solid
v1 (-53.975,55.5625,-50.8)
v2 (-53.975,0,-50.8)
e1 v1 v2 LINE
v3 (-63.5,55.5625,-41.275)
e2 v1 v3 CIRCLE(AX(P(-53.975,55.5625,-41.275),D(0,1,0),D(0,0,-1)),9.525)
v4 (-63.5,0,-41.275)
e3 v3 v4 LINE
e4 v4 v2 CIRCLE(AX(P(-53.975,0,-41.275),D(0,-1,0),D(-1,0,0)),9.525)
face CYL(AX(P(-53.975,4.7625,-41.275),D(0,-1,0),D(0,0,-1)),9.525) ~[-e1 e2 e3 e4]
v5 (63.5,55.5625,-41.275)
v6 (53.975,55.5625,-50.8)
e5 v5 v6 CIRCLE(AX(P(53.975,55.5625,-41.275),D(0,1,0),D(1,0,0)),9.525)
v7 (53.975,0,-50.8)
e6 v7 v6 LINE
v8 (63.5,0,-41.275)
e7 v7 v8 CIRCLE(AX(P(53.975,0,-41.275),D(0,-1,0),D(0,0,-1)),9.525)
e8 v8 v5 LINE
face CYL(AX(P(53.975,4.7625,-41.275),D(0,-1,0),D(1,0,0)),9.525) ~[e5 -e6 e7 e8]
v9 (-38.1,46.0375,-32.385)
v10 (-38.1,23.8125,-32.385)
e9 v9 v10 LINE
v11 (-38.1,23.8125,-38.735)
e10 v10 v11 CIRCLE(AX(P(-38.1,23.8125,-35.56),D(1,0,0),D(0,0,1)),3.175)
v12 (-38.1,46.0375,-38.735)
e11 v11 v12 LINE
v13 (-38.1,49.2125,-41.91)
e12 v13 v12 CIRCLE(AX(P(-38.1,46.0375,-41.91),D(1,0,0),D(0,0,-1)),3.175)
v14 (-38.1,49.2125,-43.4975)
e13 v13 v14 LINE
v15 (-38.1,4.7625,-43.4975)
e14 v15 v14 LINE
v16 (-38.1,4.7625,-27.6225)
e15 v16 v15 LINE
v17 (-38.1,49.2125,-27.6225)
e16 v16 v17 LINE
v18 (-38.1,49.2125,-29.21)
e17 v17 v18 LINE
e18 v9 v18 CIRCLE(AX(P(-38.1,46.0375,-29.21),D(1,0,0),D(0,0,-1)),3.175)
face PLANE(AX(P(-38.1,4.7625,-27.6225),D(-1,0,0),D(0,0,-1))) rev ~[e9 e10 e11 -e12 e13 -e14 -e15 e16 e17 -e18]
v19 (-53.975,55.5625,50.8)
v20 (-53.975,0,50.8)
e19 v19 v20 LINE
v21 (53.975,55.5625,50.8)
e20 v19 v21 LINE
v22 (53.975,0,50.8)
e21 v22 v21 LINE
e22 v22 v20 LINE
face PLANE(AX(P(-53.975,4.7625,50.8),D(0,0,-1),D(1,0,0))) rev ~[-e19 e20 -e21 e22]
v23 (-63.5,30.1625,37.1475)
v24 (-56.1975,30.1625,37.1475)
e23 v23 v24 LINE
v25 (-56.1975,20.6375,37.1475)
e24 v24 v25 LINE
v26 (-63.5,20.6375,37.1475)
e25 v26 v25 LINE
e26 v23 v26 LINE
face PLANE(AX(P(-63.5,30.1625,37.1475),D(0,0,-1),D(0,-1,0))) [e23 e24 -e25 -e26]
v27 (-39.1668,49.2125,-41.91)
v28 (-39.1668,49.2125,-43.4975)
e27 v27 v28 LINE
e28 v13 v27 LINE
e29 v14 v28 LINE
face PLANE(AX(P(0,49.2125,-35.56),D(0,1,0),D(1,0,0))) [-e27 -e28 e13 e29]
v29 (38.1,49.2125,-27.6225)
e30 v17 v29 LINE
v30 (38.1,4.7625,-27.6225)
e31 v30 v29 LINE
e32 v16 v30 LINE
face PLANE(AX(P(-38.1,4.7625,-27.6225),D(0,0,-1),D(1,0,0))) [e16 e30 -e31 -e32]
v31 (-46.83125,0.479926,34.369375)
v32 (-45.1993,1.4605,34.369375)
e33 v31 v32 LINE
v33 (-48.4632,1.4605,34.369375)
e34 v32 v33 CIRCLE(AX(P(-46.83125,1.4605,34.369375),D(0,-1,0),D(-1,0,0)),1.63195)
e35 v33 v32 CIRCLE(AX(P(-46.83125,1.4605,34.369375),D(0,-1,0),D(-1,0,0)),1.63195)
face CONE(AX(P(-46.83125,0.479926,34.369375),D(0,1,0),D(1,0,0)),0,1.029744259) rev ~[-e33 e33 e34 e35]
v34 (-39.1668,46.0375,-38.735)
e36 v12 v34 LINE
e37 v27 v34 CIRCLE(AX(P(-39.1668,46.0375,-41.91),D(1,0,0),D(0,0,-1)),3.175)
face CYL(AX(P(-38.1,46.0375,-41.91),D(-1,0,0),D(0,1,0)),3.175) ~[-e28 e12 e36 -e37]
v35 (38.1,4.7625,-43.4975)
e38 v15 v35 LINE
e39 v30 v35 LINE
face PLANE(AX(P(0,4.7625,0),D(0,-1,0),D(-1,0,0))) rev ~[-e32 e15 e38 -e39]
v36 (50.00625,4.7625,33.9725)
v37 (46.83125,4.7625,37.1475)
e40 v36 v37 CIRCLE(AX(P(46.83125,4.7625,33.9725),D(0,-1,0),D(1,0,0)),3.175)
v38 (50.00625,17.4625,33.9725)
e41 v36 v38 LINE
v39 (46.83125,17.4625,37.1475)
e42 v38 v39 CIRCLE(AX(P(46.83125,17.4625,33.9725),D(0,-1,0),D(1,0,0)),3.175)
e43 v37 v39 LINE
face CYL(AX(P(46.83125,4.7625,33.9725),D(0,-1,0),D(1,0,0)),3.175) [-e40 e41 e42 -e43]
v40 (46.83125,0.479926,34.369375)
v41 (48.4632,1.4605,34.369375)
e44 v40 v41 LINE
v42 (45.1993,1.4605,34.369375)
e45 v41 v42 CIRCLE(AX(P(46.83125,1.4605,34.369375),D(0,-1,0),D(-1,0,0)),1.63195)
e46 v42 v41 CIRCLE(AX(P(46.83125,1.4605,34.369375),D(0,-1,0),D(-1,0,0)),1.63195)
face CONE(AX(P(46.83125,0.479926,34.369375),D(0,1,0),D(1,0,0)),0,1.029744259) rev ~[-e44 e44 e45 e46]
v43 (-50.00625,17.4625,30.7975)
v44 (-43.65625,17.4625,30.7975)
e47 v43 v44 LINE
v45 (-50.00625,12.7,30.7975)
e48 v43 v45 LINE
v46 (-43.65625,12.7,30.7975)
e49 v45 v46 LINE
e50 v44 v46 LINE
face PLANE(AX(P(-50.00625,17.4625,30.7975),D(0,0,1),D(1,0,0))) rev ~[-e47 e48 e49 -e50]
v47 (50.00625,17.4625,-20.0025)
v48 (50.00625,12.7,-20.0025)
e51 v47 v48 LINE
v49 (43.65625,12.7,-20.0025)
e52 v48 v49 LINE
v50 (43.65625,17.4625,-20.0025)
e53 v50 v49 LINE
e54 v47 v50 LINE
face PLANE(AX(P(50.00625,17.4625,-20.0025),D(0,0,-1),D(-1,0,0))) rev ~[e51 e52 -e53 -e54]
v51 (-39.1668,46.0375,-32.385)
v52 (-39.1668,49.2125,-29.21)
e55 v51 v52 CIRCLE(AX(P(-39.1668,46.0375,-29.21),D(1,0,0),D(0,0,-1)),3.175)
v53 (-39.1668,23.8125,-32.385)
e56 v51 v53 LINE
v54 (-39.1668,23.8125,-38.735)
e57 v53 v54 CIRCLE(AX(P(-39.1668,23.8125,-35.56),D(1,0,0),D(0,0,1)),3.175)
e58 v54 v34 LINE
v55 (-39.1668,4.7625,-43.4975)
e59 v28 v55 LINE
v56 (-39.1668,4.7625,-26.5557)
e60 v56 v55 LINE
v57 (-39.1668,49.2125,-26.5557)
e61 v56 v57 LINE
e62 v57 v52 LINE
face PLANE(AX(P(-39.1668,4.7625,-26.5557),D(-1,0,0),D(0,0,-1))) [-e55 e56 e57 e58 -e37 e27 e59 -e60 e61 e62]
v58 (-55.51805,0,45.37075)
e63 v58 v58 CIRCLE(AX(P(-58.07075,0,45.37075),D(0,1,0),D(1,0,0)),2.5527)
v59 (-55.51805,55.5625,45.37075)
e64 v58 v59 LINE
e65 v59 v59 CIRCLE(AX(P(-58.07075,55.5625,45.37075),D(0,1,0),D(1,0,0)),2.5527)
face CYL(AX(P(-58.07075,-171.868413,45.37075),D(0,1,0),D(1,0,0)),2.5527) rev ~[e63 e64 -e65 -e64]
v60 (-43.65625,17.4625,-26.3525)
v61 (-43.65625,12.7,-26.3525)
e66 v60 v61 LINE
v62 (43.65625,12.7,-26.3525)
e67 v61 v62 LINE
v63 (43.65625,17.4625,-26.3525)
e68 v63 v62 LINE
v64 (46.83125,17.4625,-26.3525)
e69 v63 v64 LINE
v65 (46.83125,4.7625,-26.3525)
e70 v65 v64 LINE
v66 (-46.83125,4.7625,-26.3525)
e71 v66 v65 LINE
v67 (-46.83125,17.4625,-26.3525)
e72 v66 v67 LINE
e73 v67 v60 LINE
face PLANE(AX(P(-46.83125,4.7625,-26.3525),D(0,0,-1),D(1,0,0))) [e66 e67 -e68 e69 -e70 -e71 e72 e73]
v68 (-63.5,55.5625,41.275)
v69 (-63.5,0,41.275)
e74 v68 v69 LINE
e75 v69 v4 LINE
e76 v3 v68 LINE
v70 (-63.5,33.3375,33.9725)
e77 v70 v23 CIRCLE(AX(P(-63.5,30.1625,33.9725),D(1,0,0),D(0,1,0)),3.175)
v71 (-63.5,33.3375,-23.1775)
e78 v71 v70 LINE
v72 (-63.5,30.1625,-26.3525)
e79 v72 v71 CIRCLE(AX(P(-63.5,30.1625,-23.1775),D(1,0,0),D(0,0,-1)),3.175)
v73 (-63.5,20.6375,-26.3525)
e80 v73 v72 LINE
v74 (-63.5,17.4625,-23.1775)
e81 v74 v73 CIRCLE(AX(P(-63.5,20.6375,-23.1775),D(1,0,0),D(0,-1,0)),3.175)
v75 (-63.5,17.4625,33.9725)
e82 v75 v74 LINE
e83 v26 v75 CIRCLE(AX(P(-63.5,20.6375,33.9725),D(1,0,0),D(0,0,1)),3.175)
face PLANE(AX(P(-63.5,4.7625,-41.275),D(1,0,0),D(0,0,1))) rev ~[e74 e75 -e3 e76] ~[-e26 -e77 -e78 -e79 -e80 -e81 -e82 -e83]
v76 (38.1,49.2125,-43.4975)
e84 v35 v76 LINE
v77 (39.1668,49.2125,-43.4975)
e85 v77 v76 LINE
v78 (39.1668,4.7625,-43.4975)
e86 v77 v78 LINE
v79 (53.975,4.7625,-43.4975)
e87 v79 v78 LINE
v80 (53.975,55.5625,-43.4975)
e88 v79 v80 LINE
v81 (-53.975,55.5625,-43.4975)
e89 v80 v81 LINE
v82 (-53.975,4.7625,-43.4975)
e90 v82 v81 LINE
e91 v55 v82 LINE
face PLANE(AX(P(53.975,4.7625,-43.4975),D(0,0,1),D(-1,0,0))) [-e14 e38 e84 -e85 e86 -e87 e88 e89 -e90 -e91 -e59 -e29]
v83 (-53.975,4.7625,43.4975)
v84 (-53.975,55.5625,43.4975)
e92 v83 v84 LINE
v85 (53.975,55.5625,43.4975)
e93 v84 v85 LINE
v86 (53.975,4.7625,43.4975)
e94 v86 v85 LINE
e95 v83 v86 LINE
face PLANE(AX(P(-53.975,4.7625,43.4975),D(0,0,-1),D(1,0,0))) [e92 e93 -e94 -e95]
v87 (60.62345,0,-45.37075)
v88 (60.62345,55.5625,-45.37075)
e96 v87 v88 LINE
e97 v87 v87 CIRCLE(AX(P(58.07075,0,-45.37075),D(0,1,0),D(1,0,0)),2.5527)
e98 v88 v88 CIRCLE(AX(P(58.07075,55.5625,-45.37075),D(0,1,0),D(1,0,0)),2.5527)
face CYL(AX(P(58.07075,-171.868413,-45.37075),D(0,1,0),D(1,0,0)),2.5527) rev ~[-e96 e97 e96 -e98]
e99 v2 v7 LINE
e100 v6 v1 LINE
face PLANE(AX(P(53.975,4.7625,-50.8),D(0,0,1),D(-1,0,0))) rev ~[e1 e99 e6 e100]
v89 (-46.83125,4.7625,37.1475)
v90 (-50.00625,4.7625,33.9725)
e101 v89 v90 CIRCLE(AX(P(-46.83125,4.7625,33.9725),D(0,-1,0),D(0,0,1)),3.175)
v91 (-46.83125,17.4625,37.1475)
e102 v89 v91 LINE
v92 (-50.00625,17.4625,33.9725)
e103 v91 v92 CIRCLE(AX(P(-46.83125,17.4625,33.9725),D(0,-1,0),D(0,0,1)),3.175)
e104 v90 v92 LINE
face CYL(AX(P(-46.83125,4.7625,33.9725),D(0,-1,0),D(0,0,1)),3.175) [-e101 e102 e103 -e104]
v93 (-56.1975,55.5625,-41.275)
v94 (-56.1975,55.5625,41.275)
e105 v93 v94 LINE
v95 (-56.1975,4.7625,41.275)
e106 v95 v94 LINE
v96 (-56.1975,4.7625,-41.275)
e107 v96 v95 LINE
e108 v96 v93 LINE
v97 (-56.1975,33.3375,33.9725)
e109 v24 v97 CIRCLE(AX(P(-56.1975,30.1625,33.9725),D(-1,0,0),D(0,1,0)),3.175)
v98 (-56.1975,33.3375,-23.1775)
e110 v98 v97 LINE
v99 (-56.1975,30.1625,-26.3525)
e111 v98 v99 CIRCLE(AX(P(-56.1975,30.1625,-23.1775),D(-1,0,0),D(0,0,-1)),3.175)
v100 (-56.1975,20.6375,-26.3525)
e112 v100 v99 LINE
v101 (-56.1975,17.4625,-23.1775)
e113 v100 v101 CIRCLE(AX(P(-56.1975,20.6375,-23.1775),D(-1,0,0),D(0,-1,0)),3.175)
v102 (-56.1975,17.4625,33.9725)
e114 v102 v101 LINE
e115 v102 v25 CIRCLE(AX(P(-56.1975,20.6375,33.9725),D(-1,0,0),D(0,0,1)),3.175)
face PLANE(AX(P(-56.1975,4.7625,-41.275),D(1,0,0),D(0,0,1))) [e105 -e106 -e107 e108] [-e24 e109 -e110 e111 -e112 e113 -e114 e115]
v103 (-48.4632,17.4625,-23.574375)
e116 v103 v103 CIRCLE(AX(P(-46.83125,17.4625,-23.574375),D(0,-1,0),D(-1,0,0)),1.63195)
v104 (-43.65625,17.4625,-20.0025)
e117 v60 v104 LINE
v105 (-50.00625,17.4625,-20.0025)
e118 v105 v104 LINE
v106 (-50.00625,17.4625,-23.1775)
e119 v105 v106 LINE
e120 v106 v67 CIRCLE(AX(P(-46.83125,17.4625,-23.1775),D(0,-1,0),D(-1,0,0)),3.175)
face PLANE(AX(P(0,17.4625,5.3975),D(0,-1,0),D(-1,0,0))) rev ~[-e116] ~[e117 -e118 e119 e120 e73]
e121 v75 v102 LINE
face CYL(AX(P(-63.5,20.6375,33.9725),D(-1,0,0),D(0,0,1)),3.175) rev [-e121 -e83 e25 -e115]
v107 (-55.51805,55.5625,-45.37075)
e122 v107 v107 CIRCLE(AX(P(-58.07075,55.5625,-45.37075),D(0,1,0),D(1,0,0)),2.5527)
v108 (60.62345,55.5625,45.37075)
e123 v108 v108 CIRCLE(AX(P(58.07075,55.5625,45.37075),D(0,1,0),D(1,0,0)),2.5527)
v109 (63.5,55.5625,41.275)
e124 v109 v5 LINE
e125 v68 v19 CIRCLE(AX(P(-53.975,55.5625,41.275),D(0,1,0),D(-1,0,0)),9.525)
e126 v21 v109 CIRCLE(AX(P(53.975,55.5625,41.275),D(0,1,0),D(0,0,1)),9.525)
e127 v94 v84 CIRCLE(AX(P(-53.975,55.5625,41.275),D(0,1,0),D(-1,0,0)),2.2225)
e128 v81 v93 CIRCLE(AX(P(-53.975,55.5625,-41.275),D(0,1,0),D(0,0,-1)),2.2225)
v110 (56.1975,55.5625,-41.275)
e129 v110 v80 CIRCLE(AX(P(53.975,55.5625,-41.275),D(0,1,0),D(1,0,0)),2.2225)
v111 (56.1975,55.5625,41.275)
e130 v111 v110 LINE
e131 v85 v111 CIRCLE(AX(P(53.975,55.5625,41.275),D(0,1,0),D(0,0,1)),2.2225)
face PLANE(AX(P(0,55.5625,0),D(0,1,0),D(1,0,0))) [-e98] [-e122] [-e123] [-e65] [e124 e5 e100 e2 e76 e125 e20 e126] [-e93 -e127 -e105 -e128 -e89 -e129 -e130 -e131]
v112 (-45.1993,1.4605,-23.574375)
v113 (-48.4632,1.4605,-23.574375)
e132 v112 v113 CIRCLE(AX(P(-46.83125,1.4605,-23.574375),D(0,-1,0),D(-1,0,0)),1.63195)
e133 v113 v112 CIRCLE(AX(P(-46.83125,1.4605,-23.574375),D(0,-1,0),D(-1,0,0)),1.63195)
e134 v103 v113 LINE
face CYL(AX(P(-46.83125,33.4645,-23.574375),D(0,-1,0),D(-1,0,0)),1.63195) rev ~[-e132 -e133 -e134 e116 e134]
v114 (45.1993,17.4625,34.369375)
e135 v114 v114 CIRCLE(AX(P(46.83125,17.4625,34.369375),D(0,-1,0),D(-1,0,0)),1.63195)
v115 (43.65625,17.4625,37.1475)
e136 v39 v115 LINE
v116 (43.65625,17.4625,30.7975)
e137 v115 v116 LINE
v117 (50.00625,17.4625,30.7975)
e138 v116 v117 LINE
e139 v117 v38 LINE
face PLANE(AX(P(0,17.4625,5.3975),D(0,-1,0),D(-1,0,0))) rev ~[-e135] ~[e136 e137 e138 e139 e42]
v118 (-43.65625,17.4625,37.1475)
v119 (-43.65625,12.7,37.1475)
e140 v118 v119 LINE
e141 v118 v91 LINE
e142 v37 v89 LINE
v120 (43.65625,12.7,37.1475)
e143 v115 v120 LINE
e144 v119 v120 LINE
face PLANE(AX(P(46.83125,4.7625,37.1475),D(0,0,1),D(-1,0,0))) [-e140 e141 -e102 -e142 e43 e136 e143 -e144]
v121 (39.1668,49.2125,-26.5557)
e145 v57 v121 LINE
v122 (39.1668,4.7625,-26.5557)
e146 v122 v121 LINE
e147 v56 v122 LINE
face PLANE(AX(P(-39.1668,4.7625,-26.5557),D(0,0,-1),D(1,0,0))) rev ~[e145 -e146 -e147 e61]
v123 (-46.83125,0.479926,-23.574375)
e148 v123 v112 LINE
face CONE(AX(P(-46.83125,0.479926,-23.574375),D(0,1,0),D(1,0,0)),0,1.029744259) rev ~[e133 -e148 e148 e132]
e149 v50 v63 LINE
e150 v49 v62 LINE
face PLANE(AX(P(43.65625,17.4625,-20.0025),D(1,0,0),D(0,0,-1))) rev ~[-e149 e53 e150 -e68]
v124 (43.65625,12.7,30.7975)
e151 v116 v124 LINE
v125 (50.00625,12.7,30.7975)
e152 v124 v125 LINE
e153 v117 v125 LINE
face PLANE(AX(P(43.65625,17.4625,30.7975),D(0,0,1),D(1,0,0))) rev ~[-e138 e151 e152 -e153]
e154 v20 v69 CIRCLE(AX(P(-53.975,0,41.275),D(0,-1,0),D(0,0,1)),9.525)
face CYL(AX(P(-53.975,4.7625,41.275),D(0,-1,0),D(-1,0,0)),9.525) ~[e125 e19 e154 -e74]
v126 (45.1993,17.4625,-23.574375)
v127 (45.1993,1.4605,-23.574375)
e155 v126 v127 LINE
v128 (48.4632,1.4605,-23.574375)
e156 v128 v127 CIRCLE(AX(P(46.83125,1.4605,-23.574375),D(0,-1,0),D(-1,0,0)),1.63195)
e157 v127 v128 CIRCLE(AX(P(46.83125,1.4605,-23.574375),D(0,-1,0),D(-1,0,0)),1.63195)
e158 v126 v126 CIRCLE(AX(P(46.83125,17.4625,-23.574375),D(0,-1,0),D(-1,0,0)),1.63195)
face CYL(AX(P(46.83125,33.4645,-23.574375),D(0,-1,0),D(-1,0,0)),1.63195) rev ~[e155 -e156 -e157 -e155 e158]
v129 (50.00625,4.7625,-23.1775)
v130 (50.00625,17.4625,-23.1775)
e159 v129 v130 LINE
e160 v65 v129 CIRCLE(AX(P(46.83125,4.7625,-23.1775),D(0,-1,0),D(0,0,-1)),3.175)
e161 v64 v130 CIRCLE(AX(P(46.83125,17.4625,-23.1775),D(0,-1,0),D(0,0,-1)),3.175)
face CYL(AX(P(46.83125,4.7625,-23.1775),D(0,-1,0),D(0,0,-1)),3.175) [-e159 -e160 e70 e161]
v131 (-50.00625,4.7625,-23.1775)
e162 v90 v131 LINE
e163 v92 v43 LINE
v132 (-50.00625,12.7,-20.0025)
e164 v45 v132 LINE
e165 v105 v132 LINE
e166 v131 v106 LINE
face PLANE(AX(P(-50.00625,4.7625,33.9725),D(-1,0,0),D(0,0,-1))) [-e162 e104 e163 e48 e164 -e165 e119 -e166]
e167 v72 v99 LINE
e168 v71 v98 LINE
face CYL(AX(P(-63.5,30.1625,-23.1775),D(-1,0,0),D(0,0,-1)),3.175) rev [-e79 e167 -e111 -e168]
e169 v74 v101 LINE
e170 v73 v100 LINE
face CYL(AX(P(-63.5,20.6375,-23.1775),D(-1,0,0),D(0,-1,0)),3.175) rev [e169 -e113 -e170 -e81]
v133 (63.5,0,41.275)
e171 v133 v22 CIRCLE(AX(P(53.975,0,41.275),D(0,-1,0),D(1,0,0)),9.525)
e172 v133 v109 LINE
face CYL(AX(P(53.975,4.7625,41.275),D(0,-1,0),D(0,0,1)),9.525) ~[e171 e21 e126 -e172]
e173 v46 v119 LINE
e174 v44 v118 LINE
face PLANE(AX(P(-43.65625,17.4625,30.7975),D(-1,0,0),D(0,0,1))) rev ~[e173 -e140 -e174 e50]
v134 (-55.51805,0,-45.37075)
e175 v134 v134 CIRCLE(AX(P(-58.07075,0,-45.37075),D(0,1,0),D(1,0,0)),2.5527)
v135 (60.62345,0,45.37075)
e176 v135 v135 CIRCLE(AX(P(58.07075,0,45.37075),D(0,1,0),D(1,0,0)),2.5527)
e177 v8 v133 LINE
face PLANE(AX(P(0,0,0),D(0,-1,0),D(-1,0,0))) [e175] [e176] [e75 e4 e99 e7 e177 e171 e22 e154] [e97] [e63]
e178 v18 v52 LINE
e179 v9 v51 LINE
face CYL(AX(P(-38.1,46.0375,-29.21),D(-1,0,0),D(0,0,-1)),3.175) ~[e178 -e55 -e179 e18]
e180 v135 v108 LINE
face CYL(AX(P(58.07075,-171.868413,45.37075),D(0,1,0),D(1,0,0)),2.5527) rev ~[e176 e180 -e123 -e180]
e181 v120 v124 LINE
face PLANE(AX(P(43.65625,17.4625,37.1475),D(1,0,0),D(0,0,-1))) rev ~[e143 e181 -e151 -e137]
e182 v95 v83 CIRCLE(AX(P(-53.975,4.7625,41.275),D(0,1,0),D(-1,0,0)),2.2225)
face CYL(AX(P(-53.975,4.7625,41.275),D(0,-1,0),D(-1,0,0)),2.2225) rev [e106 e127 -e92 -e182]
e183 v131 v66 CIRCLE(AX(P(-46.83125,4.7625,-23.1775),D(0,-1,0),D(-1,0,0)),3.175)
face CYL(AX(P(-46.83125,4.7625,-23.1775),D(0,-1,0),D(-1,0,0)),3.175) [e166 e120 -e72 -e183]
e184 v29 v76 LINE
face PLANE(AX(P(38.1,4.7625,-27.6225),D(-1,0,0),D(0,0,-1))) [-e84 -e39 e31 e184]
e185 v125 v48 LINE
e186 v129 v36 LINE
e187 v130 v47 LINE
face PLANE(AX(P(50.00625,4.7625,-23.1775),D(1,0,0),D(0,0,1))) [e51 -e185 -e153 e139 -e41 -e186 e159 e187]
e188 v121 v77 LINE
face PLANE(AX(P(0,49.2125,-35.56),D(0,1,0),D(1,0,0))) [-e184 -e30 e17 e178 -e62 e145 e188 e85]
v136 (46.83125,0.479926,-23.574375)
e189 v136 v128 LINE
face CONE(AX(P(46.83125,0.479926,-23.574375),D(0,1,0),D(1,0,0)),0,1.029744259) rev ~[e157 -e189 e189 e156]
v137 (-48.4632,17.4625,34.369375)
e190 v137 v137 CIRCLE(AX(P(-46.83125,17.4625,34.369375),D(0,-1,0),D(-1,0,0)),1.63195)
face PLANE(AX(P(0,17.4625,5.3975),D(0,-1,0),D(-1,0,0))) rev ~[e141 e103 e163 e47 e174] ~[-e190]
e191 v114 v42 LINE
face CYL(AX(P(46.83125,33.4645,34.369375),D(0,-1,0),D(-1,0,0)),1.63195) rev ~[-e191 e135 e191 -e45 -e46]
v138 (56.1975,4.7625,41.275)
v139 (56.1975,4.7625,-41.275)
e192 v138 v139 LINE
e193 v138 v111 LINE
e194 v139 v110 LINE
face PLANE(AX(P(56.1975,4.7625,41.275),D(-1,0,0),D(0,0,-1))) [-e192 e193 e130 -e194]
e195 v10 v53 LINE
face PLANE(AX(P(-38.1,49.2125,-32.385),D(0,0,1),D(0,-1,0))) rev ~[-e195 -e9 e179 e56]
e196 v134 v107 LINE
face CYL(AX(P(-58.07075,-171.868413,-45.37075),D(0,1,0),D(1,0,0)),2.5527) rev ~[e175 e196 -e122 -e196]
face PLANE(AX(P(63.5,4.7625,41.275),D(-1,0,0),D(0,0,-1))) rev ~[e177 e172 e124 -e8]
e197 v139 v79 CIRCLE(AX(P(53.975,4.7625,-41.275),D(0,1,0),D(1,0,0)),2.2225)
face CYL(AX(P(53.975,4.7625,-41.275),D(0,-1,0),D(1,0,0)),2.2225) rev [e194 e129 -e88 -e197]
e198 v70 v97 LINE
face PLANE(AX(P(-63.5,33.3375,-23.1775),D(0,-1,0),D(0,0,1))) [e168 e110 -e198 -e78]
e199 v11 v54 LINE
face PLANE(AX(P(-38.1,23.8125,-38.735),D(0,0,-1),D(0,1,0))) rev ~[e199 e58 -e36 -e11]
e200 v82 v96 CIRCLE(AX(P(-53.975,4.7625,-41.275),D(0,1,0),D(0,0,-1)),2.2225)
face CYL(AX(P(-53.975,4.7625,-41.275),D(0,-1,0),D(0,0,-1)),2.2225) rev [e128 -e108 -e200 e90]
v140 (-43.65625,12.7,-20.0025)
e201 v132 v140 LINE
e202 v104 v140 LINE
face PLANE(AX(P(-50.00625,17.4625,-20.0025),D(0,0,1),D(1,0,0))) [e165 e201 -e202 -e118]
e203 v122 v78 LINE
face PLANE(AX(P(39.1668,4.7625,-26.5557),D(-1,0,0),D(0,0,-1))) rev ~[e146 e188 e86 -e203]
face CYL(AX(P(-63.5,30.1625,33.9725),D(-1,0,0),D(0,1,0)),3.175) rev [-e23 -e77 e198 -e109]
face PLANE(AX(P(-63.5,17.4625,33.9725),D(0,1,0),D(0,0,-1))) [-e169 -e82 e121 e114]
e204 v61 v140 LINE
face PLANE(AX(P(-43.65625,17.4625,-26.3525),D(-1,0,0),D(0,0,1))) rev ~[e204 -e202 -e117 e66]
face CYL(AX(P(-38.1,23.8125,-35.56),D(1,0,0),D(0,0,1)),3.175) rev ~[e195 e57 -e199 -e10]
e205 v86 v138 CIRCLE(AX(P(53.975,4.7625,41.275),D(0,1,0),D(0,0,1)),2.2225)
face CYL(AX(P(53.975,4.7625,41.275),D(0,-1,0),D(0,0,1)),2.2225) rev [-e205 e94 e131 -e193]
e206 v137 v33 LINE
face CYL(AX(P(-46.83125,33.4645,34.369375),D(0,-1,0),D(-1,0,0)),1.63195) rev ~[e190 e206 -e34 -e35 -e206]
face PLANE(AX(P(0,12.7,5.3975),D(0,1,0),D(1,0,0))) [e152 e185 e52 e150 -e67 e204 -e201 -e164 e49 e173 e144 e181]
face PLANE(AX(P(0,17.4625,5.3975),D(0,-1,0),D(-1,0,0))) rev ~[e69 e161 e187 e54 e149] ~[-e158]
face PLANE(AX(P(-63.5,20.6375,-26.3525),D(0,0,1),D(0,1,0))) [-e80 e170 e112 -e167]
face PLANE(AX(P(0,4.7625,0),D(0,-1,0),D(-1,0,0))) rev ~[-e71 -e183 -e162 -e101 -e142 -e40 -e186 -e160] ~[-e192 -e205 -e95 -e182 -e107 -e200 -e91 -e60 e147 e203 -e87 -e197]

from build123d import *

# Parameters (mm, degrees)
BASE_PLATE_DEPTH                        = 4.7625
OUTSIDEBOSS_DEPTH                       = 50.8
TOPPLATE_MOUNTINGHOLE_8_0_199_DIAMETE_D = 5.1054
PCB_PLATE_DEPTH                         = 12.7
F_4_CLEARANCE_HOLE1_D                   = 3.2639
F_4_CLEARANCE_HOLE1_DEPTH               = 16.002
F_4_CLEARANCE_HOLE1_TIP                 = 0.980574487
SKETCH11_W                              = 87.3125
SKETCH11_H                              = 50.8
SKETCH11_W_2                            = 6.35
SKETCH11_H_2                            = 6.35
CUT_EXTRUDE2_DEPTH                      = 4.7625
SKETCH12_W                              = 78.3336
SKETCH12_H                              = 18.0086
SKETCH12_W_2                            = 76.2
SKETCH12_H_2                            = 15.875
BATTERYHOLDER_DEPTH                     = 44.45
BATTERYLEADFEADER_REACH                 = 128.453
BATTERYLEADFILLETS_R                    = 3.175
CUT_EXTRUDE3_REACH                      = 149.637


with BuildPart() as part:
    # Sketch1 → Base_Plate (new body)
    with BuildSketch(Plane(origin=(0, 0, 0), x_dir=(1, 0, 0), z_dir=(0, 1, 0))):
        with BuildLine():
            Line((-53.975, 50.8), (53.975, 50.8))
            ThreePointArc((53.975, 50.8), (60.710192091, 48.010192091), (63.5, 41.275))
            Line((63.5, 41.275), (63.5, -41.275))
            ThreePointArc((63.5, -41.275), (60.710192091, -48.010192091), (53.975, -50.8))
            Line((53.975, -50.8), (-53.975, -50.8))
            ThreePointArc((-53.975, -50.8), (-60.710192091, -48.010192091), (-63.5, -41.275))
            Line((-63.5, -41.275), (-63.5, 41.275))
            ThreePointArc((-63.5, 41.275), (-60.710192091, 48.010192091), (-53.975, 50.8))
        make_face()
    extrude(amount=BASE_PLATE_DEPTH)

    # Sketch2 → OutsideBoss (add)
    with BuildSketch(Plane(origin=(0, 4.7625, 0), x_dir=(1, 0, 0), z_dir=(0, 1, 0))):
        with BuildLine():
            Line((-53.975, -50.8), (53.975, -50.8))
            ThreePointArc((53.975, -50.8), (60.710192091, -48.010192091), (63.5, -41.275))
            Line((63.5, -41.275), (63.5, 41.275))
            ThreePointArc((63.5, 41.275), (60.710192091, 48.010192091), (53.975, 50.8))
            Line((53.975, 50.8), (-53.975, 50.8))
            ThreePointArc((-53.975, 50.8), (-60.710192091, 48.010192091), (-63.5, 41.275))
            Line((-63.5, 41.275), (-63.5, -41.275))
            ThreePointArc((-63.5, -41.275), (-60.710192091, -48.010192091), (-53.975, -50.8))
        make_face()
        with BuildLine():
            Line((-56.1975, 41.275), (-56.1975, -41.275))
            ThreePointArc((-56.1975, -41.275), (-55.546544821, -42.846544821), (-53.975, -43.4975))
            Line((-53.975, -43.4975), (53.975, -43.4975))
            ThreePointArc((53.975, -43.4975), (55.546544821, -42.846544821), (56.1975, -41.275))
            Line((56.1975, -41.275), (56.1975, 41.275))
            ThreePointArc((56.1975, 41.275), (55.546544821, 42.846544821), (53.975, 43.4975))
            Line((53.975, 43.4975), (-53.975, 43.4975))
            ThreePointArc((-53.975, 43.4975), (-55.546544821, 42.846544821), (-56.1975, 41.275))
        make_face(mode=Mode.SUBTRACT)
    extrude(amount=OUTSIDEBOSS_DEPTH)

    # TopPlate_MountingHole_#8 (0.199) Diameter Hole1 (through all)
    with Locations(Plane(origin=(0, 0, 0), x_dir=(-1, 0, 0), z_dir=(0, -1, 0))):
        with Locations((-58.07075, 45.37075), (58.07075, -45.37075), (-58.07075, -45.37075), (58.07075, 45.37075)):
            Hole(TOPPLATE_MOUNTINGHOLE_8_0_199_DIAMETE_D / 2)

    # Sketch8 → PCB_Plate (add)
    with BuildSketch(Plane(origin=(0, 4.7625, 0), x_dir=(1, 0, 0), z_dir=(0, 1, 0))):
        with BuildLine():
            Line((46.83125, -37.1475), (-46.83125, -37.1475))
            ThreePointArc((-46.83125, -37.1475), (-49.07631403, -36.21756403), (-50.00625, -33.9725))
            Line((-50.00625, -33.9725), (-50.00625, 23.1775))
            ThreePointArc((-50.00625, 23.1775), (-49.07631403, 25.42256403), (-46.83125, 26.3525))
            Line((-46.83125, 26.3525), (46.83125, 26.3525))
            ThreePointArc((46.83125, 26.3525), (49.07631403, 25.42256403), (50.00625, 23.1775))
            Line((50.00625, 23.1775), (50.00625, -33.9725))
            ThreePointArc((50.00625, -33.9725), (49.07631403, -36.21756403), (46.83125, -37.1475))
        make_face()
    extrude(amount=PCB_PLATE_DEPTH)

    # #4 Clearance Hole1
    with Locations(Plane(origin=(0, 17.4625, 0), x_dir=(1, 0, 0), z_dir=(0, 1, 0))):
        with Locations((-46.83125, 23.574375), (46.83125, 23.574375), (-46.83125, -34.369375), (46.83125, -34.369375)):
            Hole(F_4_CLEARANCE_HOLE1_D / 2, depth=F_4_CLEARANCE_HOLE1_DEPTH)
            with Locations((0, 0, -(F_4_CLEARANCE_HOLE1_DEPTH + F_4_CLEARANCE_HOLE1_TIP / 2))):  # 118° drill point
                Cone(0, F_4_CLEARANCE_HOLE1_D / 2, F_4_CLEARANCE_HOLE1_TIP, mode=Mode.SUBTRACT)

    # Sketch11 → Cut-Extrude2 (cut)
    with BuildSketch(Plane(origin=(0, 17.4625, 0), x_dir=(1, 0, 0), z_dir=(0, 1, 0))):
        with Locations((0, -5.3975)):
            Rectangle(SKETCH11_W, SKETCH11_H)
        with Locations((46.83125, -5.3975)):
            Rectangle(SKETCH11_W_2, SKETCH11_H)
        with Locations((0, 23.1775)):
            Rectangle(SKETCH11_W, SKETCH11_H_2)
        with Locations((0, -33.9725)):
            Rectangle(SKETCH11_W, SKETCH11_H_2)
        with Locations((-46.83125, -5.3975)):
            Rectangle(SKETCH11_W_2, SKETCH11_H)
    extrude(amount=-CUT_EXTRUDE2_DEPTH, mode=Mode.SUBTRACT)

    # Sketch12 → BatteryHolder (add)
    with BuildSketch(Plane(origin=(0, 4.7625, 0), x_dir=(1, 0, 0), z_dir=(0, 1, 0))):
        with Locations((0, 35.56)):
            Rectangle(SKETCH12_W, SKETCH12_H)
        with Locations((0, 35.56)):
            Rectangle(SKETCH12_W_2, SKETCH12_H_2, mode=Mode.SUBTRACT)
    extrude(amount=BATTERYHOLDER_DEPTH)

    # Sketch13 → BatteryLeadFeader (cut, up to next)
    with BuildSketch(Plane(origin=(-38.1, 0, 0), x_dir=(0, 0, -1), z_dir=(1, 0, 0)), mode=Mode.PRIVATE) as batteryleadfeader_sk1:
        with BuildLine():
            Line((38.735, 23.8125), (38.735, 49.2125))
            Line((38.735, 49.2125), (32.385, 49.2125))
            Line((32.385, 49.2125), (32.385, 23.8125))
            ThreePointArc((32.385, 23.8125), (35.56, 26.9875), (38.735, 23.8125))
        make_face()
    batteryleadfeader_tool1 = extrude(batteryleadfeader_sk1.sketch, amount=-BATTERYLEADFEADER_REACH, mode=Mode.PRIVATE) & part.part
    # Sketch13 → BatteryLeadFeader (cut, up to next)
    with BuildSketch(Plane(origin=(-38.1, 0, 0), x_dir=(0, 0, -1), z_dir=(1, 0, 0)), mode=Mode.PRIVATE) as batteryleadfeader_sk2:
        with BuildLine():
            ThreePointArc((32.385, 23.8125), (35.56, 20.6375), (38.735, 23.8125))
            Line((38.735, 23.8125), (32.385, 23.8125))
        make_face()
    batteryleadfeader_tool2 = extrude(batteryleadfeader_sk2.sketch, amount=-BATTERYLEADFEADER_REACH, mode=Mode.PRIVATE) & part.part
    # Sketch13 → BatteryLeadFeader (cut, up to next)
    with BuildSketch(Plane(origin=(-38.1, 0, 0), x_dir=(0, 0, -1), z_dir=(1, 0, 0)), mode=Mode.PRIVATE) as batteryleadfeader_sk3:
        with BuildLine():
            Line((32.385, 23.8125), (38.735, 23.8125))
            ThreePointArc((38.735, 23.8125), (35.56, 26.9875), (32.385, 23.8125))
        make_face()
    batteryleadfeader_tool3 = extrude(batteryleadfeader_sk3.sketch, amount=-BATTERYLEADFEADER_REACH, mode=Mode.PRIVATE) & part.part
    # Sketch13 → BatteryLeadFeader (cut, up to next)
    with BuildSketch(Plane(origin=(-38.1, 0, 0), x_dir=(0, 0, -1), z_dir=(1, 0, 0)), mode=Mode.PRIVATE) as batteryleadfeader_sk4:
        with BuildLine():
            ThreePointArc((32.385, 23.8125), (35.56, 20.6375), (38.735, 23.8125))
            Line((38.735, 23.8125), (32.385, 23.8125))
        make_face()
    batteryleadfeader_tool4 = extrude(batteryleadfeader_sk4.sketch, amount=-BATTERYLEADFEADER_REACH, mode=Mode.PRIVATE) & part.part
    # Sketch13 → BatteryLeadFeader (cut, up to next)
    with BuildSketch(Plane(origin=(-38.1, 0, 0), x_dir=(0, 0, -1), z_dir=(1, 0, 0)), mode=Mode.PRIVATE) as batteryleadfeader_sk5:
        with BuildLine():
            Line((32.385, 23.8125), (38.735, 23.8125))
            ThreePointArc((38.735, 23.8125), (35.56, 26.9875), (32.385, 23.8125))
        make_face()
    batteryleadfeader_tool5 = extrude(batteryleadfeader_sk5.sketch, amount=-BATTERYLEADFEADER_REACH, mode=Mode.PRIVATE) & part.part
    add(batteryleadfeader_tool1.solids().sort_by_distance((-38.1, 37.748358, -35.56))[0], mode=Mode.SUBTRACT)
    add(batteryleadfeader_tool2.solids().sort_by_distance((-38.1, 22.464988, -35.56))[0], mode=Mode.SUBTRACT)
    add(batteryleadfeader_tool3.solids().sort_by_distance((-38.1, 25.160012, -35.56))[0], mode=Mode.SUBTRACT)
    add(batteryleadfeader_tool4.solids().sort_by_distance((-38.1, 22.464988, -35.56))[0], mode=Mode.SUBTRACT)
    add(batteryleadfeader_tool5.solids().sort_by_distance((-38.1, 25.160012, -35.56))[0], mode=Mode.SUBTRACT)

    # BatteryLeadFillets
    batteryleadfillets_edges = [part.edges().sort_by_distance(p)[0] for p in [
        (-38.6334, 49.2125, -38.735),
        (-38.6334, 49.2125, -32.385),
    ]]
    fillet(batteryleadfillets_edges, radius=BATTERYLEADFILLETS_R)

    # Sketch14 → Cut-Extrude3 (cut, up to next)
    with BuildSketch(Plane.ZY.offset(63.5), mode=Mode.PRIVATE) as cut_extrude3_sk1:
        with BuildLine():
            Line((-26.3525, 20.6375), (-26.3525, 30.1625))
            ThreePointArc((-26.3525, 30.1625), (-25.42256403, 32.40756403), (-23.1775, 33.3375))
            Line((-23.1775, 33.3375), (33.9725, 33.3375))
            ThreePointArc((33.9725, 33.3375), (36.21756403, 32.40756403), (37.1475, 30.1625))
            Line((37.1475, 30.1625), (37.1475, 20.6375))
            ThreePointArc((37.1475, 20.6375), (36.21756403, 18.39243597), (33.9725, 17.4625))
            Line((33.9725, 17.4625), (-23.1775, 17.4625))
            ThreePointArc((-23.1775, 17.4625), (-25.42256403, 18.39243597), (-26.3525, 20.6375))
        make_face()
    cut_extrude3_tool1 = extrude(cut_extrude3_sk1.sketch, amount=-CUT_EXTRUDE3_REACH, mode=Mode.PRIVATE) & part.part
    add(cut_extrude3_tool1.solids().sort_by_distance((-63.5, 25.4, 5.3975))[0], mode=Mode.SUBTRACT)


solid = part.part
